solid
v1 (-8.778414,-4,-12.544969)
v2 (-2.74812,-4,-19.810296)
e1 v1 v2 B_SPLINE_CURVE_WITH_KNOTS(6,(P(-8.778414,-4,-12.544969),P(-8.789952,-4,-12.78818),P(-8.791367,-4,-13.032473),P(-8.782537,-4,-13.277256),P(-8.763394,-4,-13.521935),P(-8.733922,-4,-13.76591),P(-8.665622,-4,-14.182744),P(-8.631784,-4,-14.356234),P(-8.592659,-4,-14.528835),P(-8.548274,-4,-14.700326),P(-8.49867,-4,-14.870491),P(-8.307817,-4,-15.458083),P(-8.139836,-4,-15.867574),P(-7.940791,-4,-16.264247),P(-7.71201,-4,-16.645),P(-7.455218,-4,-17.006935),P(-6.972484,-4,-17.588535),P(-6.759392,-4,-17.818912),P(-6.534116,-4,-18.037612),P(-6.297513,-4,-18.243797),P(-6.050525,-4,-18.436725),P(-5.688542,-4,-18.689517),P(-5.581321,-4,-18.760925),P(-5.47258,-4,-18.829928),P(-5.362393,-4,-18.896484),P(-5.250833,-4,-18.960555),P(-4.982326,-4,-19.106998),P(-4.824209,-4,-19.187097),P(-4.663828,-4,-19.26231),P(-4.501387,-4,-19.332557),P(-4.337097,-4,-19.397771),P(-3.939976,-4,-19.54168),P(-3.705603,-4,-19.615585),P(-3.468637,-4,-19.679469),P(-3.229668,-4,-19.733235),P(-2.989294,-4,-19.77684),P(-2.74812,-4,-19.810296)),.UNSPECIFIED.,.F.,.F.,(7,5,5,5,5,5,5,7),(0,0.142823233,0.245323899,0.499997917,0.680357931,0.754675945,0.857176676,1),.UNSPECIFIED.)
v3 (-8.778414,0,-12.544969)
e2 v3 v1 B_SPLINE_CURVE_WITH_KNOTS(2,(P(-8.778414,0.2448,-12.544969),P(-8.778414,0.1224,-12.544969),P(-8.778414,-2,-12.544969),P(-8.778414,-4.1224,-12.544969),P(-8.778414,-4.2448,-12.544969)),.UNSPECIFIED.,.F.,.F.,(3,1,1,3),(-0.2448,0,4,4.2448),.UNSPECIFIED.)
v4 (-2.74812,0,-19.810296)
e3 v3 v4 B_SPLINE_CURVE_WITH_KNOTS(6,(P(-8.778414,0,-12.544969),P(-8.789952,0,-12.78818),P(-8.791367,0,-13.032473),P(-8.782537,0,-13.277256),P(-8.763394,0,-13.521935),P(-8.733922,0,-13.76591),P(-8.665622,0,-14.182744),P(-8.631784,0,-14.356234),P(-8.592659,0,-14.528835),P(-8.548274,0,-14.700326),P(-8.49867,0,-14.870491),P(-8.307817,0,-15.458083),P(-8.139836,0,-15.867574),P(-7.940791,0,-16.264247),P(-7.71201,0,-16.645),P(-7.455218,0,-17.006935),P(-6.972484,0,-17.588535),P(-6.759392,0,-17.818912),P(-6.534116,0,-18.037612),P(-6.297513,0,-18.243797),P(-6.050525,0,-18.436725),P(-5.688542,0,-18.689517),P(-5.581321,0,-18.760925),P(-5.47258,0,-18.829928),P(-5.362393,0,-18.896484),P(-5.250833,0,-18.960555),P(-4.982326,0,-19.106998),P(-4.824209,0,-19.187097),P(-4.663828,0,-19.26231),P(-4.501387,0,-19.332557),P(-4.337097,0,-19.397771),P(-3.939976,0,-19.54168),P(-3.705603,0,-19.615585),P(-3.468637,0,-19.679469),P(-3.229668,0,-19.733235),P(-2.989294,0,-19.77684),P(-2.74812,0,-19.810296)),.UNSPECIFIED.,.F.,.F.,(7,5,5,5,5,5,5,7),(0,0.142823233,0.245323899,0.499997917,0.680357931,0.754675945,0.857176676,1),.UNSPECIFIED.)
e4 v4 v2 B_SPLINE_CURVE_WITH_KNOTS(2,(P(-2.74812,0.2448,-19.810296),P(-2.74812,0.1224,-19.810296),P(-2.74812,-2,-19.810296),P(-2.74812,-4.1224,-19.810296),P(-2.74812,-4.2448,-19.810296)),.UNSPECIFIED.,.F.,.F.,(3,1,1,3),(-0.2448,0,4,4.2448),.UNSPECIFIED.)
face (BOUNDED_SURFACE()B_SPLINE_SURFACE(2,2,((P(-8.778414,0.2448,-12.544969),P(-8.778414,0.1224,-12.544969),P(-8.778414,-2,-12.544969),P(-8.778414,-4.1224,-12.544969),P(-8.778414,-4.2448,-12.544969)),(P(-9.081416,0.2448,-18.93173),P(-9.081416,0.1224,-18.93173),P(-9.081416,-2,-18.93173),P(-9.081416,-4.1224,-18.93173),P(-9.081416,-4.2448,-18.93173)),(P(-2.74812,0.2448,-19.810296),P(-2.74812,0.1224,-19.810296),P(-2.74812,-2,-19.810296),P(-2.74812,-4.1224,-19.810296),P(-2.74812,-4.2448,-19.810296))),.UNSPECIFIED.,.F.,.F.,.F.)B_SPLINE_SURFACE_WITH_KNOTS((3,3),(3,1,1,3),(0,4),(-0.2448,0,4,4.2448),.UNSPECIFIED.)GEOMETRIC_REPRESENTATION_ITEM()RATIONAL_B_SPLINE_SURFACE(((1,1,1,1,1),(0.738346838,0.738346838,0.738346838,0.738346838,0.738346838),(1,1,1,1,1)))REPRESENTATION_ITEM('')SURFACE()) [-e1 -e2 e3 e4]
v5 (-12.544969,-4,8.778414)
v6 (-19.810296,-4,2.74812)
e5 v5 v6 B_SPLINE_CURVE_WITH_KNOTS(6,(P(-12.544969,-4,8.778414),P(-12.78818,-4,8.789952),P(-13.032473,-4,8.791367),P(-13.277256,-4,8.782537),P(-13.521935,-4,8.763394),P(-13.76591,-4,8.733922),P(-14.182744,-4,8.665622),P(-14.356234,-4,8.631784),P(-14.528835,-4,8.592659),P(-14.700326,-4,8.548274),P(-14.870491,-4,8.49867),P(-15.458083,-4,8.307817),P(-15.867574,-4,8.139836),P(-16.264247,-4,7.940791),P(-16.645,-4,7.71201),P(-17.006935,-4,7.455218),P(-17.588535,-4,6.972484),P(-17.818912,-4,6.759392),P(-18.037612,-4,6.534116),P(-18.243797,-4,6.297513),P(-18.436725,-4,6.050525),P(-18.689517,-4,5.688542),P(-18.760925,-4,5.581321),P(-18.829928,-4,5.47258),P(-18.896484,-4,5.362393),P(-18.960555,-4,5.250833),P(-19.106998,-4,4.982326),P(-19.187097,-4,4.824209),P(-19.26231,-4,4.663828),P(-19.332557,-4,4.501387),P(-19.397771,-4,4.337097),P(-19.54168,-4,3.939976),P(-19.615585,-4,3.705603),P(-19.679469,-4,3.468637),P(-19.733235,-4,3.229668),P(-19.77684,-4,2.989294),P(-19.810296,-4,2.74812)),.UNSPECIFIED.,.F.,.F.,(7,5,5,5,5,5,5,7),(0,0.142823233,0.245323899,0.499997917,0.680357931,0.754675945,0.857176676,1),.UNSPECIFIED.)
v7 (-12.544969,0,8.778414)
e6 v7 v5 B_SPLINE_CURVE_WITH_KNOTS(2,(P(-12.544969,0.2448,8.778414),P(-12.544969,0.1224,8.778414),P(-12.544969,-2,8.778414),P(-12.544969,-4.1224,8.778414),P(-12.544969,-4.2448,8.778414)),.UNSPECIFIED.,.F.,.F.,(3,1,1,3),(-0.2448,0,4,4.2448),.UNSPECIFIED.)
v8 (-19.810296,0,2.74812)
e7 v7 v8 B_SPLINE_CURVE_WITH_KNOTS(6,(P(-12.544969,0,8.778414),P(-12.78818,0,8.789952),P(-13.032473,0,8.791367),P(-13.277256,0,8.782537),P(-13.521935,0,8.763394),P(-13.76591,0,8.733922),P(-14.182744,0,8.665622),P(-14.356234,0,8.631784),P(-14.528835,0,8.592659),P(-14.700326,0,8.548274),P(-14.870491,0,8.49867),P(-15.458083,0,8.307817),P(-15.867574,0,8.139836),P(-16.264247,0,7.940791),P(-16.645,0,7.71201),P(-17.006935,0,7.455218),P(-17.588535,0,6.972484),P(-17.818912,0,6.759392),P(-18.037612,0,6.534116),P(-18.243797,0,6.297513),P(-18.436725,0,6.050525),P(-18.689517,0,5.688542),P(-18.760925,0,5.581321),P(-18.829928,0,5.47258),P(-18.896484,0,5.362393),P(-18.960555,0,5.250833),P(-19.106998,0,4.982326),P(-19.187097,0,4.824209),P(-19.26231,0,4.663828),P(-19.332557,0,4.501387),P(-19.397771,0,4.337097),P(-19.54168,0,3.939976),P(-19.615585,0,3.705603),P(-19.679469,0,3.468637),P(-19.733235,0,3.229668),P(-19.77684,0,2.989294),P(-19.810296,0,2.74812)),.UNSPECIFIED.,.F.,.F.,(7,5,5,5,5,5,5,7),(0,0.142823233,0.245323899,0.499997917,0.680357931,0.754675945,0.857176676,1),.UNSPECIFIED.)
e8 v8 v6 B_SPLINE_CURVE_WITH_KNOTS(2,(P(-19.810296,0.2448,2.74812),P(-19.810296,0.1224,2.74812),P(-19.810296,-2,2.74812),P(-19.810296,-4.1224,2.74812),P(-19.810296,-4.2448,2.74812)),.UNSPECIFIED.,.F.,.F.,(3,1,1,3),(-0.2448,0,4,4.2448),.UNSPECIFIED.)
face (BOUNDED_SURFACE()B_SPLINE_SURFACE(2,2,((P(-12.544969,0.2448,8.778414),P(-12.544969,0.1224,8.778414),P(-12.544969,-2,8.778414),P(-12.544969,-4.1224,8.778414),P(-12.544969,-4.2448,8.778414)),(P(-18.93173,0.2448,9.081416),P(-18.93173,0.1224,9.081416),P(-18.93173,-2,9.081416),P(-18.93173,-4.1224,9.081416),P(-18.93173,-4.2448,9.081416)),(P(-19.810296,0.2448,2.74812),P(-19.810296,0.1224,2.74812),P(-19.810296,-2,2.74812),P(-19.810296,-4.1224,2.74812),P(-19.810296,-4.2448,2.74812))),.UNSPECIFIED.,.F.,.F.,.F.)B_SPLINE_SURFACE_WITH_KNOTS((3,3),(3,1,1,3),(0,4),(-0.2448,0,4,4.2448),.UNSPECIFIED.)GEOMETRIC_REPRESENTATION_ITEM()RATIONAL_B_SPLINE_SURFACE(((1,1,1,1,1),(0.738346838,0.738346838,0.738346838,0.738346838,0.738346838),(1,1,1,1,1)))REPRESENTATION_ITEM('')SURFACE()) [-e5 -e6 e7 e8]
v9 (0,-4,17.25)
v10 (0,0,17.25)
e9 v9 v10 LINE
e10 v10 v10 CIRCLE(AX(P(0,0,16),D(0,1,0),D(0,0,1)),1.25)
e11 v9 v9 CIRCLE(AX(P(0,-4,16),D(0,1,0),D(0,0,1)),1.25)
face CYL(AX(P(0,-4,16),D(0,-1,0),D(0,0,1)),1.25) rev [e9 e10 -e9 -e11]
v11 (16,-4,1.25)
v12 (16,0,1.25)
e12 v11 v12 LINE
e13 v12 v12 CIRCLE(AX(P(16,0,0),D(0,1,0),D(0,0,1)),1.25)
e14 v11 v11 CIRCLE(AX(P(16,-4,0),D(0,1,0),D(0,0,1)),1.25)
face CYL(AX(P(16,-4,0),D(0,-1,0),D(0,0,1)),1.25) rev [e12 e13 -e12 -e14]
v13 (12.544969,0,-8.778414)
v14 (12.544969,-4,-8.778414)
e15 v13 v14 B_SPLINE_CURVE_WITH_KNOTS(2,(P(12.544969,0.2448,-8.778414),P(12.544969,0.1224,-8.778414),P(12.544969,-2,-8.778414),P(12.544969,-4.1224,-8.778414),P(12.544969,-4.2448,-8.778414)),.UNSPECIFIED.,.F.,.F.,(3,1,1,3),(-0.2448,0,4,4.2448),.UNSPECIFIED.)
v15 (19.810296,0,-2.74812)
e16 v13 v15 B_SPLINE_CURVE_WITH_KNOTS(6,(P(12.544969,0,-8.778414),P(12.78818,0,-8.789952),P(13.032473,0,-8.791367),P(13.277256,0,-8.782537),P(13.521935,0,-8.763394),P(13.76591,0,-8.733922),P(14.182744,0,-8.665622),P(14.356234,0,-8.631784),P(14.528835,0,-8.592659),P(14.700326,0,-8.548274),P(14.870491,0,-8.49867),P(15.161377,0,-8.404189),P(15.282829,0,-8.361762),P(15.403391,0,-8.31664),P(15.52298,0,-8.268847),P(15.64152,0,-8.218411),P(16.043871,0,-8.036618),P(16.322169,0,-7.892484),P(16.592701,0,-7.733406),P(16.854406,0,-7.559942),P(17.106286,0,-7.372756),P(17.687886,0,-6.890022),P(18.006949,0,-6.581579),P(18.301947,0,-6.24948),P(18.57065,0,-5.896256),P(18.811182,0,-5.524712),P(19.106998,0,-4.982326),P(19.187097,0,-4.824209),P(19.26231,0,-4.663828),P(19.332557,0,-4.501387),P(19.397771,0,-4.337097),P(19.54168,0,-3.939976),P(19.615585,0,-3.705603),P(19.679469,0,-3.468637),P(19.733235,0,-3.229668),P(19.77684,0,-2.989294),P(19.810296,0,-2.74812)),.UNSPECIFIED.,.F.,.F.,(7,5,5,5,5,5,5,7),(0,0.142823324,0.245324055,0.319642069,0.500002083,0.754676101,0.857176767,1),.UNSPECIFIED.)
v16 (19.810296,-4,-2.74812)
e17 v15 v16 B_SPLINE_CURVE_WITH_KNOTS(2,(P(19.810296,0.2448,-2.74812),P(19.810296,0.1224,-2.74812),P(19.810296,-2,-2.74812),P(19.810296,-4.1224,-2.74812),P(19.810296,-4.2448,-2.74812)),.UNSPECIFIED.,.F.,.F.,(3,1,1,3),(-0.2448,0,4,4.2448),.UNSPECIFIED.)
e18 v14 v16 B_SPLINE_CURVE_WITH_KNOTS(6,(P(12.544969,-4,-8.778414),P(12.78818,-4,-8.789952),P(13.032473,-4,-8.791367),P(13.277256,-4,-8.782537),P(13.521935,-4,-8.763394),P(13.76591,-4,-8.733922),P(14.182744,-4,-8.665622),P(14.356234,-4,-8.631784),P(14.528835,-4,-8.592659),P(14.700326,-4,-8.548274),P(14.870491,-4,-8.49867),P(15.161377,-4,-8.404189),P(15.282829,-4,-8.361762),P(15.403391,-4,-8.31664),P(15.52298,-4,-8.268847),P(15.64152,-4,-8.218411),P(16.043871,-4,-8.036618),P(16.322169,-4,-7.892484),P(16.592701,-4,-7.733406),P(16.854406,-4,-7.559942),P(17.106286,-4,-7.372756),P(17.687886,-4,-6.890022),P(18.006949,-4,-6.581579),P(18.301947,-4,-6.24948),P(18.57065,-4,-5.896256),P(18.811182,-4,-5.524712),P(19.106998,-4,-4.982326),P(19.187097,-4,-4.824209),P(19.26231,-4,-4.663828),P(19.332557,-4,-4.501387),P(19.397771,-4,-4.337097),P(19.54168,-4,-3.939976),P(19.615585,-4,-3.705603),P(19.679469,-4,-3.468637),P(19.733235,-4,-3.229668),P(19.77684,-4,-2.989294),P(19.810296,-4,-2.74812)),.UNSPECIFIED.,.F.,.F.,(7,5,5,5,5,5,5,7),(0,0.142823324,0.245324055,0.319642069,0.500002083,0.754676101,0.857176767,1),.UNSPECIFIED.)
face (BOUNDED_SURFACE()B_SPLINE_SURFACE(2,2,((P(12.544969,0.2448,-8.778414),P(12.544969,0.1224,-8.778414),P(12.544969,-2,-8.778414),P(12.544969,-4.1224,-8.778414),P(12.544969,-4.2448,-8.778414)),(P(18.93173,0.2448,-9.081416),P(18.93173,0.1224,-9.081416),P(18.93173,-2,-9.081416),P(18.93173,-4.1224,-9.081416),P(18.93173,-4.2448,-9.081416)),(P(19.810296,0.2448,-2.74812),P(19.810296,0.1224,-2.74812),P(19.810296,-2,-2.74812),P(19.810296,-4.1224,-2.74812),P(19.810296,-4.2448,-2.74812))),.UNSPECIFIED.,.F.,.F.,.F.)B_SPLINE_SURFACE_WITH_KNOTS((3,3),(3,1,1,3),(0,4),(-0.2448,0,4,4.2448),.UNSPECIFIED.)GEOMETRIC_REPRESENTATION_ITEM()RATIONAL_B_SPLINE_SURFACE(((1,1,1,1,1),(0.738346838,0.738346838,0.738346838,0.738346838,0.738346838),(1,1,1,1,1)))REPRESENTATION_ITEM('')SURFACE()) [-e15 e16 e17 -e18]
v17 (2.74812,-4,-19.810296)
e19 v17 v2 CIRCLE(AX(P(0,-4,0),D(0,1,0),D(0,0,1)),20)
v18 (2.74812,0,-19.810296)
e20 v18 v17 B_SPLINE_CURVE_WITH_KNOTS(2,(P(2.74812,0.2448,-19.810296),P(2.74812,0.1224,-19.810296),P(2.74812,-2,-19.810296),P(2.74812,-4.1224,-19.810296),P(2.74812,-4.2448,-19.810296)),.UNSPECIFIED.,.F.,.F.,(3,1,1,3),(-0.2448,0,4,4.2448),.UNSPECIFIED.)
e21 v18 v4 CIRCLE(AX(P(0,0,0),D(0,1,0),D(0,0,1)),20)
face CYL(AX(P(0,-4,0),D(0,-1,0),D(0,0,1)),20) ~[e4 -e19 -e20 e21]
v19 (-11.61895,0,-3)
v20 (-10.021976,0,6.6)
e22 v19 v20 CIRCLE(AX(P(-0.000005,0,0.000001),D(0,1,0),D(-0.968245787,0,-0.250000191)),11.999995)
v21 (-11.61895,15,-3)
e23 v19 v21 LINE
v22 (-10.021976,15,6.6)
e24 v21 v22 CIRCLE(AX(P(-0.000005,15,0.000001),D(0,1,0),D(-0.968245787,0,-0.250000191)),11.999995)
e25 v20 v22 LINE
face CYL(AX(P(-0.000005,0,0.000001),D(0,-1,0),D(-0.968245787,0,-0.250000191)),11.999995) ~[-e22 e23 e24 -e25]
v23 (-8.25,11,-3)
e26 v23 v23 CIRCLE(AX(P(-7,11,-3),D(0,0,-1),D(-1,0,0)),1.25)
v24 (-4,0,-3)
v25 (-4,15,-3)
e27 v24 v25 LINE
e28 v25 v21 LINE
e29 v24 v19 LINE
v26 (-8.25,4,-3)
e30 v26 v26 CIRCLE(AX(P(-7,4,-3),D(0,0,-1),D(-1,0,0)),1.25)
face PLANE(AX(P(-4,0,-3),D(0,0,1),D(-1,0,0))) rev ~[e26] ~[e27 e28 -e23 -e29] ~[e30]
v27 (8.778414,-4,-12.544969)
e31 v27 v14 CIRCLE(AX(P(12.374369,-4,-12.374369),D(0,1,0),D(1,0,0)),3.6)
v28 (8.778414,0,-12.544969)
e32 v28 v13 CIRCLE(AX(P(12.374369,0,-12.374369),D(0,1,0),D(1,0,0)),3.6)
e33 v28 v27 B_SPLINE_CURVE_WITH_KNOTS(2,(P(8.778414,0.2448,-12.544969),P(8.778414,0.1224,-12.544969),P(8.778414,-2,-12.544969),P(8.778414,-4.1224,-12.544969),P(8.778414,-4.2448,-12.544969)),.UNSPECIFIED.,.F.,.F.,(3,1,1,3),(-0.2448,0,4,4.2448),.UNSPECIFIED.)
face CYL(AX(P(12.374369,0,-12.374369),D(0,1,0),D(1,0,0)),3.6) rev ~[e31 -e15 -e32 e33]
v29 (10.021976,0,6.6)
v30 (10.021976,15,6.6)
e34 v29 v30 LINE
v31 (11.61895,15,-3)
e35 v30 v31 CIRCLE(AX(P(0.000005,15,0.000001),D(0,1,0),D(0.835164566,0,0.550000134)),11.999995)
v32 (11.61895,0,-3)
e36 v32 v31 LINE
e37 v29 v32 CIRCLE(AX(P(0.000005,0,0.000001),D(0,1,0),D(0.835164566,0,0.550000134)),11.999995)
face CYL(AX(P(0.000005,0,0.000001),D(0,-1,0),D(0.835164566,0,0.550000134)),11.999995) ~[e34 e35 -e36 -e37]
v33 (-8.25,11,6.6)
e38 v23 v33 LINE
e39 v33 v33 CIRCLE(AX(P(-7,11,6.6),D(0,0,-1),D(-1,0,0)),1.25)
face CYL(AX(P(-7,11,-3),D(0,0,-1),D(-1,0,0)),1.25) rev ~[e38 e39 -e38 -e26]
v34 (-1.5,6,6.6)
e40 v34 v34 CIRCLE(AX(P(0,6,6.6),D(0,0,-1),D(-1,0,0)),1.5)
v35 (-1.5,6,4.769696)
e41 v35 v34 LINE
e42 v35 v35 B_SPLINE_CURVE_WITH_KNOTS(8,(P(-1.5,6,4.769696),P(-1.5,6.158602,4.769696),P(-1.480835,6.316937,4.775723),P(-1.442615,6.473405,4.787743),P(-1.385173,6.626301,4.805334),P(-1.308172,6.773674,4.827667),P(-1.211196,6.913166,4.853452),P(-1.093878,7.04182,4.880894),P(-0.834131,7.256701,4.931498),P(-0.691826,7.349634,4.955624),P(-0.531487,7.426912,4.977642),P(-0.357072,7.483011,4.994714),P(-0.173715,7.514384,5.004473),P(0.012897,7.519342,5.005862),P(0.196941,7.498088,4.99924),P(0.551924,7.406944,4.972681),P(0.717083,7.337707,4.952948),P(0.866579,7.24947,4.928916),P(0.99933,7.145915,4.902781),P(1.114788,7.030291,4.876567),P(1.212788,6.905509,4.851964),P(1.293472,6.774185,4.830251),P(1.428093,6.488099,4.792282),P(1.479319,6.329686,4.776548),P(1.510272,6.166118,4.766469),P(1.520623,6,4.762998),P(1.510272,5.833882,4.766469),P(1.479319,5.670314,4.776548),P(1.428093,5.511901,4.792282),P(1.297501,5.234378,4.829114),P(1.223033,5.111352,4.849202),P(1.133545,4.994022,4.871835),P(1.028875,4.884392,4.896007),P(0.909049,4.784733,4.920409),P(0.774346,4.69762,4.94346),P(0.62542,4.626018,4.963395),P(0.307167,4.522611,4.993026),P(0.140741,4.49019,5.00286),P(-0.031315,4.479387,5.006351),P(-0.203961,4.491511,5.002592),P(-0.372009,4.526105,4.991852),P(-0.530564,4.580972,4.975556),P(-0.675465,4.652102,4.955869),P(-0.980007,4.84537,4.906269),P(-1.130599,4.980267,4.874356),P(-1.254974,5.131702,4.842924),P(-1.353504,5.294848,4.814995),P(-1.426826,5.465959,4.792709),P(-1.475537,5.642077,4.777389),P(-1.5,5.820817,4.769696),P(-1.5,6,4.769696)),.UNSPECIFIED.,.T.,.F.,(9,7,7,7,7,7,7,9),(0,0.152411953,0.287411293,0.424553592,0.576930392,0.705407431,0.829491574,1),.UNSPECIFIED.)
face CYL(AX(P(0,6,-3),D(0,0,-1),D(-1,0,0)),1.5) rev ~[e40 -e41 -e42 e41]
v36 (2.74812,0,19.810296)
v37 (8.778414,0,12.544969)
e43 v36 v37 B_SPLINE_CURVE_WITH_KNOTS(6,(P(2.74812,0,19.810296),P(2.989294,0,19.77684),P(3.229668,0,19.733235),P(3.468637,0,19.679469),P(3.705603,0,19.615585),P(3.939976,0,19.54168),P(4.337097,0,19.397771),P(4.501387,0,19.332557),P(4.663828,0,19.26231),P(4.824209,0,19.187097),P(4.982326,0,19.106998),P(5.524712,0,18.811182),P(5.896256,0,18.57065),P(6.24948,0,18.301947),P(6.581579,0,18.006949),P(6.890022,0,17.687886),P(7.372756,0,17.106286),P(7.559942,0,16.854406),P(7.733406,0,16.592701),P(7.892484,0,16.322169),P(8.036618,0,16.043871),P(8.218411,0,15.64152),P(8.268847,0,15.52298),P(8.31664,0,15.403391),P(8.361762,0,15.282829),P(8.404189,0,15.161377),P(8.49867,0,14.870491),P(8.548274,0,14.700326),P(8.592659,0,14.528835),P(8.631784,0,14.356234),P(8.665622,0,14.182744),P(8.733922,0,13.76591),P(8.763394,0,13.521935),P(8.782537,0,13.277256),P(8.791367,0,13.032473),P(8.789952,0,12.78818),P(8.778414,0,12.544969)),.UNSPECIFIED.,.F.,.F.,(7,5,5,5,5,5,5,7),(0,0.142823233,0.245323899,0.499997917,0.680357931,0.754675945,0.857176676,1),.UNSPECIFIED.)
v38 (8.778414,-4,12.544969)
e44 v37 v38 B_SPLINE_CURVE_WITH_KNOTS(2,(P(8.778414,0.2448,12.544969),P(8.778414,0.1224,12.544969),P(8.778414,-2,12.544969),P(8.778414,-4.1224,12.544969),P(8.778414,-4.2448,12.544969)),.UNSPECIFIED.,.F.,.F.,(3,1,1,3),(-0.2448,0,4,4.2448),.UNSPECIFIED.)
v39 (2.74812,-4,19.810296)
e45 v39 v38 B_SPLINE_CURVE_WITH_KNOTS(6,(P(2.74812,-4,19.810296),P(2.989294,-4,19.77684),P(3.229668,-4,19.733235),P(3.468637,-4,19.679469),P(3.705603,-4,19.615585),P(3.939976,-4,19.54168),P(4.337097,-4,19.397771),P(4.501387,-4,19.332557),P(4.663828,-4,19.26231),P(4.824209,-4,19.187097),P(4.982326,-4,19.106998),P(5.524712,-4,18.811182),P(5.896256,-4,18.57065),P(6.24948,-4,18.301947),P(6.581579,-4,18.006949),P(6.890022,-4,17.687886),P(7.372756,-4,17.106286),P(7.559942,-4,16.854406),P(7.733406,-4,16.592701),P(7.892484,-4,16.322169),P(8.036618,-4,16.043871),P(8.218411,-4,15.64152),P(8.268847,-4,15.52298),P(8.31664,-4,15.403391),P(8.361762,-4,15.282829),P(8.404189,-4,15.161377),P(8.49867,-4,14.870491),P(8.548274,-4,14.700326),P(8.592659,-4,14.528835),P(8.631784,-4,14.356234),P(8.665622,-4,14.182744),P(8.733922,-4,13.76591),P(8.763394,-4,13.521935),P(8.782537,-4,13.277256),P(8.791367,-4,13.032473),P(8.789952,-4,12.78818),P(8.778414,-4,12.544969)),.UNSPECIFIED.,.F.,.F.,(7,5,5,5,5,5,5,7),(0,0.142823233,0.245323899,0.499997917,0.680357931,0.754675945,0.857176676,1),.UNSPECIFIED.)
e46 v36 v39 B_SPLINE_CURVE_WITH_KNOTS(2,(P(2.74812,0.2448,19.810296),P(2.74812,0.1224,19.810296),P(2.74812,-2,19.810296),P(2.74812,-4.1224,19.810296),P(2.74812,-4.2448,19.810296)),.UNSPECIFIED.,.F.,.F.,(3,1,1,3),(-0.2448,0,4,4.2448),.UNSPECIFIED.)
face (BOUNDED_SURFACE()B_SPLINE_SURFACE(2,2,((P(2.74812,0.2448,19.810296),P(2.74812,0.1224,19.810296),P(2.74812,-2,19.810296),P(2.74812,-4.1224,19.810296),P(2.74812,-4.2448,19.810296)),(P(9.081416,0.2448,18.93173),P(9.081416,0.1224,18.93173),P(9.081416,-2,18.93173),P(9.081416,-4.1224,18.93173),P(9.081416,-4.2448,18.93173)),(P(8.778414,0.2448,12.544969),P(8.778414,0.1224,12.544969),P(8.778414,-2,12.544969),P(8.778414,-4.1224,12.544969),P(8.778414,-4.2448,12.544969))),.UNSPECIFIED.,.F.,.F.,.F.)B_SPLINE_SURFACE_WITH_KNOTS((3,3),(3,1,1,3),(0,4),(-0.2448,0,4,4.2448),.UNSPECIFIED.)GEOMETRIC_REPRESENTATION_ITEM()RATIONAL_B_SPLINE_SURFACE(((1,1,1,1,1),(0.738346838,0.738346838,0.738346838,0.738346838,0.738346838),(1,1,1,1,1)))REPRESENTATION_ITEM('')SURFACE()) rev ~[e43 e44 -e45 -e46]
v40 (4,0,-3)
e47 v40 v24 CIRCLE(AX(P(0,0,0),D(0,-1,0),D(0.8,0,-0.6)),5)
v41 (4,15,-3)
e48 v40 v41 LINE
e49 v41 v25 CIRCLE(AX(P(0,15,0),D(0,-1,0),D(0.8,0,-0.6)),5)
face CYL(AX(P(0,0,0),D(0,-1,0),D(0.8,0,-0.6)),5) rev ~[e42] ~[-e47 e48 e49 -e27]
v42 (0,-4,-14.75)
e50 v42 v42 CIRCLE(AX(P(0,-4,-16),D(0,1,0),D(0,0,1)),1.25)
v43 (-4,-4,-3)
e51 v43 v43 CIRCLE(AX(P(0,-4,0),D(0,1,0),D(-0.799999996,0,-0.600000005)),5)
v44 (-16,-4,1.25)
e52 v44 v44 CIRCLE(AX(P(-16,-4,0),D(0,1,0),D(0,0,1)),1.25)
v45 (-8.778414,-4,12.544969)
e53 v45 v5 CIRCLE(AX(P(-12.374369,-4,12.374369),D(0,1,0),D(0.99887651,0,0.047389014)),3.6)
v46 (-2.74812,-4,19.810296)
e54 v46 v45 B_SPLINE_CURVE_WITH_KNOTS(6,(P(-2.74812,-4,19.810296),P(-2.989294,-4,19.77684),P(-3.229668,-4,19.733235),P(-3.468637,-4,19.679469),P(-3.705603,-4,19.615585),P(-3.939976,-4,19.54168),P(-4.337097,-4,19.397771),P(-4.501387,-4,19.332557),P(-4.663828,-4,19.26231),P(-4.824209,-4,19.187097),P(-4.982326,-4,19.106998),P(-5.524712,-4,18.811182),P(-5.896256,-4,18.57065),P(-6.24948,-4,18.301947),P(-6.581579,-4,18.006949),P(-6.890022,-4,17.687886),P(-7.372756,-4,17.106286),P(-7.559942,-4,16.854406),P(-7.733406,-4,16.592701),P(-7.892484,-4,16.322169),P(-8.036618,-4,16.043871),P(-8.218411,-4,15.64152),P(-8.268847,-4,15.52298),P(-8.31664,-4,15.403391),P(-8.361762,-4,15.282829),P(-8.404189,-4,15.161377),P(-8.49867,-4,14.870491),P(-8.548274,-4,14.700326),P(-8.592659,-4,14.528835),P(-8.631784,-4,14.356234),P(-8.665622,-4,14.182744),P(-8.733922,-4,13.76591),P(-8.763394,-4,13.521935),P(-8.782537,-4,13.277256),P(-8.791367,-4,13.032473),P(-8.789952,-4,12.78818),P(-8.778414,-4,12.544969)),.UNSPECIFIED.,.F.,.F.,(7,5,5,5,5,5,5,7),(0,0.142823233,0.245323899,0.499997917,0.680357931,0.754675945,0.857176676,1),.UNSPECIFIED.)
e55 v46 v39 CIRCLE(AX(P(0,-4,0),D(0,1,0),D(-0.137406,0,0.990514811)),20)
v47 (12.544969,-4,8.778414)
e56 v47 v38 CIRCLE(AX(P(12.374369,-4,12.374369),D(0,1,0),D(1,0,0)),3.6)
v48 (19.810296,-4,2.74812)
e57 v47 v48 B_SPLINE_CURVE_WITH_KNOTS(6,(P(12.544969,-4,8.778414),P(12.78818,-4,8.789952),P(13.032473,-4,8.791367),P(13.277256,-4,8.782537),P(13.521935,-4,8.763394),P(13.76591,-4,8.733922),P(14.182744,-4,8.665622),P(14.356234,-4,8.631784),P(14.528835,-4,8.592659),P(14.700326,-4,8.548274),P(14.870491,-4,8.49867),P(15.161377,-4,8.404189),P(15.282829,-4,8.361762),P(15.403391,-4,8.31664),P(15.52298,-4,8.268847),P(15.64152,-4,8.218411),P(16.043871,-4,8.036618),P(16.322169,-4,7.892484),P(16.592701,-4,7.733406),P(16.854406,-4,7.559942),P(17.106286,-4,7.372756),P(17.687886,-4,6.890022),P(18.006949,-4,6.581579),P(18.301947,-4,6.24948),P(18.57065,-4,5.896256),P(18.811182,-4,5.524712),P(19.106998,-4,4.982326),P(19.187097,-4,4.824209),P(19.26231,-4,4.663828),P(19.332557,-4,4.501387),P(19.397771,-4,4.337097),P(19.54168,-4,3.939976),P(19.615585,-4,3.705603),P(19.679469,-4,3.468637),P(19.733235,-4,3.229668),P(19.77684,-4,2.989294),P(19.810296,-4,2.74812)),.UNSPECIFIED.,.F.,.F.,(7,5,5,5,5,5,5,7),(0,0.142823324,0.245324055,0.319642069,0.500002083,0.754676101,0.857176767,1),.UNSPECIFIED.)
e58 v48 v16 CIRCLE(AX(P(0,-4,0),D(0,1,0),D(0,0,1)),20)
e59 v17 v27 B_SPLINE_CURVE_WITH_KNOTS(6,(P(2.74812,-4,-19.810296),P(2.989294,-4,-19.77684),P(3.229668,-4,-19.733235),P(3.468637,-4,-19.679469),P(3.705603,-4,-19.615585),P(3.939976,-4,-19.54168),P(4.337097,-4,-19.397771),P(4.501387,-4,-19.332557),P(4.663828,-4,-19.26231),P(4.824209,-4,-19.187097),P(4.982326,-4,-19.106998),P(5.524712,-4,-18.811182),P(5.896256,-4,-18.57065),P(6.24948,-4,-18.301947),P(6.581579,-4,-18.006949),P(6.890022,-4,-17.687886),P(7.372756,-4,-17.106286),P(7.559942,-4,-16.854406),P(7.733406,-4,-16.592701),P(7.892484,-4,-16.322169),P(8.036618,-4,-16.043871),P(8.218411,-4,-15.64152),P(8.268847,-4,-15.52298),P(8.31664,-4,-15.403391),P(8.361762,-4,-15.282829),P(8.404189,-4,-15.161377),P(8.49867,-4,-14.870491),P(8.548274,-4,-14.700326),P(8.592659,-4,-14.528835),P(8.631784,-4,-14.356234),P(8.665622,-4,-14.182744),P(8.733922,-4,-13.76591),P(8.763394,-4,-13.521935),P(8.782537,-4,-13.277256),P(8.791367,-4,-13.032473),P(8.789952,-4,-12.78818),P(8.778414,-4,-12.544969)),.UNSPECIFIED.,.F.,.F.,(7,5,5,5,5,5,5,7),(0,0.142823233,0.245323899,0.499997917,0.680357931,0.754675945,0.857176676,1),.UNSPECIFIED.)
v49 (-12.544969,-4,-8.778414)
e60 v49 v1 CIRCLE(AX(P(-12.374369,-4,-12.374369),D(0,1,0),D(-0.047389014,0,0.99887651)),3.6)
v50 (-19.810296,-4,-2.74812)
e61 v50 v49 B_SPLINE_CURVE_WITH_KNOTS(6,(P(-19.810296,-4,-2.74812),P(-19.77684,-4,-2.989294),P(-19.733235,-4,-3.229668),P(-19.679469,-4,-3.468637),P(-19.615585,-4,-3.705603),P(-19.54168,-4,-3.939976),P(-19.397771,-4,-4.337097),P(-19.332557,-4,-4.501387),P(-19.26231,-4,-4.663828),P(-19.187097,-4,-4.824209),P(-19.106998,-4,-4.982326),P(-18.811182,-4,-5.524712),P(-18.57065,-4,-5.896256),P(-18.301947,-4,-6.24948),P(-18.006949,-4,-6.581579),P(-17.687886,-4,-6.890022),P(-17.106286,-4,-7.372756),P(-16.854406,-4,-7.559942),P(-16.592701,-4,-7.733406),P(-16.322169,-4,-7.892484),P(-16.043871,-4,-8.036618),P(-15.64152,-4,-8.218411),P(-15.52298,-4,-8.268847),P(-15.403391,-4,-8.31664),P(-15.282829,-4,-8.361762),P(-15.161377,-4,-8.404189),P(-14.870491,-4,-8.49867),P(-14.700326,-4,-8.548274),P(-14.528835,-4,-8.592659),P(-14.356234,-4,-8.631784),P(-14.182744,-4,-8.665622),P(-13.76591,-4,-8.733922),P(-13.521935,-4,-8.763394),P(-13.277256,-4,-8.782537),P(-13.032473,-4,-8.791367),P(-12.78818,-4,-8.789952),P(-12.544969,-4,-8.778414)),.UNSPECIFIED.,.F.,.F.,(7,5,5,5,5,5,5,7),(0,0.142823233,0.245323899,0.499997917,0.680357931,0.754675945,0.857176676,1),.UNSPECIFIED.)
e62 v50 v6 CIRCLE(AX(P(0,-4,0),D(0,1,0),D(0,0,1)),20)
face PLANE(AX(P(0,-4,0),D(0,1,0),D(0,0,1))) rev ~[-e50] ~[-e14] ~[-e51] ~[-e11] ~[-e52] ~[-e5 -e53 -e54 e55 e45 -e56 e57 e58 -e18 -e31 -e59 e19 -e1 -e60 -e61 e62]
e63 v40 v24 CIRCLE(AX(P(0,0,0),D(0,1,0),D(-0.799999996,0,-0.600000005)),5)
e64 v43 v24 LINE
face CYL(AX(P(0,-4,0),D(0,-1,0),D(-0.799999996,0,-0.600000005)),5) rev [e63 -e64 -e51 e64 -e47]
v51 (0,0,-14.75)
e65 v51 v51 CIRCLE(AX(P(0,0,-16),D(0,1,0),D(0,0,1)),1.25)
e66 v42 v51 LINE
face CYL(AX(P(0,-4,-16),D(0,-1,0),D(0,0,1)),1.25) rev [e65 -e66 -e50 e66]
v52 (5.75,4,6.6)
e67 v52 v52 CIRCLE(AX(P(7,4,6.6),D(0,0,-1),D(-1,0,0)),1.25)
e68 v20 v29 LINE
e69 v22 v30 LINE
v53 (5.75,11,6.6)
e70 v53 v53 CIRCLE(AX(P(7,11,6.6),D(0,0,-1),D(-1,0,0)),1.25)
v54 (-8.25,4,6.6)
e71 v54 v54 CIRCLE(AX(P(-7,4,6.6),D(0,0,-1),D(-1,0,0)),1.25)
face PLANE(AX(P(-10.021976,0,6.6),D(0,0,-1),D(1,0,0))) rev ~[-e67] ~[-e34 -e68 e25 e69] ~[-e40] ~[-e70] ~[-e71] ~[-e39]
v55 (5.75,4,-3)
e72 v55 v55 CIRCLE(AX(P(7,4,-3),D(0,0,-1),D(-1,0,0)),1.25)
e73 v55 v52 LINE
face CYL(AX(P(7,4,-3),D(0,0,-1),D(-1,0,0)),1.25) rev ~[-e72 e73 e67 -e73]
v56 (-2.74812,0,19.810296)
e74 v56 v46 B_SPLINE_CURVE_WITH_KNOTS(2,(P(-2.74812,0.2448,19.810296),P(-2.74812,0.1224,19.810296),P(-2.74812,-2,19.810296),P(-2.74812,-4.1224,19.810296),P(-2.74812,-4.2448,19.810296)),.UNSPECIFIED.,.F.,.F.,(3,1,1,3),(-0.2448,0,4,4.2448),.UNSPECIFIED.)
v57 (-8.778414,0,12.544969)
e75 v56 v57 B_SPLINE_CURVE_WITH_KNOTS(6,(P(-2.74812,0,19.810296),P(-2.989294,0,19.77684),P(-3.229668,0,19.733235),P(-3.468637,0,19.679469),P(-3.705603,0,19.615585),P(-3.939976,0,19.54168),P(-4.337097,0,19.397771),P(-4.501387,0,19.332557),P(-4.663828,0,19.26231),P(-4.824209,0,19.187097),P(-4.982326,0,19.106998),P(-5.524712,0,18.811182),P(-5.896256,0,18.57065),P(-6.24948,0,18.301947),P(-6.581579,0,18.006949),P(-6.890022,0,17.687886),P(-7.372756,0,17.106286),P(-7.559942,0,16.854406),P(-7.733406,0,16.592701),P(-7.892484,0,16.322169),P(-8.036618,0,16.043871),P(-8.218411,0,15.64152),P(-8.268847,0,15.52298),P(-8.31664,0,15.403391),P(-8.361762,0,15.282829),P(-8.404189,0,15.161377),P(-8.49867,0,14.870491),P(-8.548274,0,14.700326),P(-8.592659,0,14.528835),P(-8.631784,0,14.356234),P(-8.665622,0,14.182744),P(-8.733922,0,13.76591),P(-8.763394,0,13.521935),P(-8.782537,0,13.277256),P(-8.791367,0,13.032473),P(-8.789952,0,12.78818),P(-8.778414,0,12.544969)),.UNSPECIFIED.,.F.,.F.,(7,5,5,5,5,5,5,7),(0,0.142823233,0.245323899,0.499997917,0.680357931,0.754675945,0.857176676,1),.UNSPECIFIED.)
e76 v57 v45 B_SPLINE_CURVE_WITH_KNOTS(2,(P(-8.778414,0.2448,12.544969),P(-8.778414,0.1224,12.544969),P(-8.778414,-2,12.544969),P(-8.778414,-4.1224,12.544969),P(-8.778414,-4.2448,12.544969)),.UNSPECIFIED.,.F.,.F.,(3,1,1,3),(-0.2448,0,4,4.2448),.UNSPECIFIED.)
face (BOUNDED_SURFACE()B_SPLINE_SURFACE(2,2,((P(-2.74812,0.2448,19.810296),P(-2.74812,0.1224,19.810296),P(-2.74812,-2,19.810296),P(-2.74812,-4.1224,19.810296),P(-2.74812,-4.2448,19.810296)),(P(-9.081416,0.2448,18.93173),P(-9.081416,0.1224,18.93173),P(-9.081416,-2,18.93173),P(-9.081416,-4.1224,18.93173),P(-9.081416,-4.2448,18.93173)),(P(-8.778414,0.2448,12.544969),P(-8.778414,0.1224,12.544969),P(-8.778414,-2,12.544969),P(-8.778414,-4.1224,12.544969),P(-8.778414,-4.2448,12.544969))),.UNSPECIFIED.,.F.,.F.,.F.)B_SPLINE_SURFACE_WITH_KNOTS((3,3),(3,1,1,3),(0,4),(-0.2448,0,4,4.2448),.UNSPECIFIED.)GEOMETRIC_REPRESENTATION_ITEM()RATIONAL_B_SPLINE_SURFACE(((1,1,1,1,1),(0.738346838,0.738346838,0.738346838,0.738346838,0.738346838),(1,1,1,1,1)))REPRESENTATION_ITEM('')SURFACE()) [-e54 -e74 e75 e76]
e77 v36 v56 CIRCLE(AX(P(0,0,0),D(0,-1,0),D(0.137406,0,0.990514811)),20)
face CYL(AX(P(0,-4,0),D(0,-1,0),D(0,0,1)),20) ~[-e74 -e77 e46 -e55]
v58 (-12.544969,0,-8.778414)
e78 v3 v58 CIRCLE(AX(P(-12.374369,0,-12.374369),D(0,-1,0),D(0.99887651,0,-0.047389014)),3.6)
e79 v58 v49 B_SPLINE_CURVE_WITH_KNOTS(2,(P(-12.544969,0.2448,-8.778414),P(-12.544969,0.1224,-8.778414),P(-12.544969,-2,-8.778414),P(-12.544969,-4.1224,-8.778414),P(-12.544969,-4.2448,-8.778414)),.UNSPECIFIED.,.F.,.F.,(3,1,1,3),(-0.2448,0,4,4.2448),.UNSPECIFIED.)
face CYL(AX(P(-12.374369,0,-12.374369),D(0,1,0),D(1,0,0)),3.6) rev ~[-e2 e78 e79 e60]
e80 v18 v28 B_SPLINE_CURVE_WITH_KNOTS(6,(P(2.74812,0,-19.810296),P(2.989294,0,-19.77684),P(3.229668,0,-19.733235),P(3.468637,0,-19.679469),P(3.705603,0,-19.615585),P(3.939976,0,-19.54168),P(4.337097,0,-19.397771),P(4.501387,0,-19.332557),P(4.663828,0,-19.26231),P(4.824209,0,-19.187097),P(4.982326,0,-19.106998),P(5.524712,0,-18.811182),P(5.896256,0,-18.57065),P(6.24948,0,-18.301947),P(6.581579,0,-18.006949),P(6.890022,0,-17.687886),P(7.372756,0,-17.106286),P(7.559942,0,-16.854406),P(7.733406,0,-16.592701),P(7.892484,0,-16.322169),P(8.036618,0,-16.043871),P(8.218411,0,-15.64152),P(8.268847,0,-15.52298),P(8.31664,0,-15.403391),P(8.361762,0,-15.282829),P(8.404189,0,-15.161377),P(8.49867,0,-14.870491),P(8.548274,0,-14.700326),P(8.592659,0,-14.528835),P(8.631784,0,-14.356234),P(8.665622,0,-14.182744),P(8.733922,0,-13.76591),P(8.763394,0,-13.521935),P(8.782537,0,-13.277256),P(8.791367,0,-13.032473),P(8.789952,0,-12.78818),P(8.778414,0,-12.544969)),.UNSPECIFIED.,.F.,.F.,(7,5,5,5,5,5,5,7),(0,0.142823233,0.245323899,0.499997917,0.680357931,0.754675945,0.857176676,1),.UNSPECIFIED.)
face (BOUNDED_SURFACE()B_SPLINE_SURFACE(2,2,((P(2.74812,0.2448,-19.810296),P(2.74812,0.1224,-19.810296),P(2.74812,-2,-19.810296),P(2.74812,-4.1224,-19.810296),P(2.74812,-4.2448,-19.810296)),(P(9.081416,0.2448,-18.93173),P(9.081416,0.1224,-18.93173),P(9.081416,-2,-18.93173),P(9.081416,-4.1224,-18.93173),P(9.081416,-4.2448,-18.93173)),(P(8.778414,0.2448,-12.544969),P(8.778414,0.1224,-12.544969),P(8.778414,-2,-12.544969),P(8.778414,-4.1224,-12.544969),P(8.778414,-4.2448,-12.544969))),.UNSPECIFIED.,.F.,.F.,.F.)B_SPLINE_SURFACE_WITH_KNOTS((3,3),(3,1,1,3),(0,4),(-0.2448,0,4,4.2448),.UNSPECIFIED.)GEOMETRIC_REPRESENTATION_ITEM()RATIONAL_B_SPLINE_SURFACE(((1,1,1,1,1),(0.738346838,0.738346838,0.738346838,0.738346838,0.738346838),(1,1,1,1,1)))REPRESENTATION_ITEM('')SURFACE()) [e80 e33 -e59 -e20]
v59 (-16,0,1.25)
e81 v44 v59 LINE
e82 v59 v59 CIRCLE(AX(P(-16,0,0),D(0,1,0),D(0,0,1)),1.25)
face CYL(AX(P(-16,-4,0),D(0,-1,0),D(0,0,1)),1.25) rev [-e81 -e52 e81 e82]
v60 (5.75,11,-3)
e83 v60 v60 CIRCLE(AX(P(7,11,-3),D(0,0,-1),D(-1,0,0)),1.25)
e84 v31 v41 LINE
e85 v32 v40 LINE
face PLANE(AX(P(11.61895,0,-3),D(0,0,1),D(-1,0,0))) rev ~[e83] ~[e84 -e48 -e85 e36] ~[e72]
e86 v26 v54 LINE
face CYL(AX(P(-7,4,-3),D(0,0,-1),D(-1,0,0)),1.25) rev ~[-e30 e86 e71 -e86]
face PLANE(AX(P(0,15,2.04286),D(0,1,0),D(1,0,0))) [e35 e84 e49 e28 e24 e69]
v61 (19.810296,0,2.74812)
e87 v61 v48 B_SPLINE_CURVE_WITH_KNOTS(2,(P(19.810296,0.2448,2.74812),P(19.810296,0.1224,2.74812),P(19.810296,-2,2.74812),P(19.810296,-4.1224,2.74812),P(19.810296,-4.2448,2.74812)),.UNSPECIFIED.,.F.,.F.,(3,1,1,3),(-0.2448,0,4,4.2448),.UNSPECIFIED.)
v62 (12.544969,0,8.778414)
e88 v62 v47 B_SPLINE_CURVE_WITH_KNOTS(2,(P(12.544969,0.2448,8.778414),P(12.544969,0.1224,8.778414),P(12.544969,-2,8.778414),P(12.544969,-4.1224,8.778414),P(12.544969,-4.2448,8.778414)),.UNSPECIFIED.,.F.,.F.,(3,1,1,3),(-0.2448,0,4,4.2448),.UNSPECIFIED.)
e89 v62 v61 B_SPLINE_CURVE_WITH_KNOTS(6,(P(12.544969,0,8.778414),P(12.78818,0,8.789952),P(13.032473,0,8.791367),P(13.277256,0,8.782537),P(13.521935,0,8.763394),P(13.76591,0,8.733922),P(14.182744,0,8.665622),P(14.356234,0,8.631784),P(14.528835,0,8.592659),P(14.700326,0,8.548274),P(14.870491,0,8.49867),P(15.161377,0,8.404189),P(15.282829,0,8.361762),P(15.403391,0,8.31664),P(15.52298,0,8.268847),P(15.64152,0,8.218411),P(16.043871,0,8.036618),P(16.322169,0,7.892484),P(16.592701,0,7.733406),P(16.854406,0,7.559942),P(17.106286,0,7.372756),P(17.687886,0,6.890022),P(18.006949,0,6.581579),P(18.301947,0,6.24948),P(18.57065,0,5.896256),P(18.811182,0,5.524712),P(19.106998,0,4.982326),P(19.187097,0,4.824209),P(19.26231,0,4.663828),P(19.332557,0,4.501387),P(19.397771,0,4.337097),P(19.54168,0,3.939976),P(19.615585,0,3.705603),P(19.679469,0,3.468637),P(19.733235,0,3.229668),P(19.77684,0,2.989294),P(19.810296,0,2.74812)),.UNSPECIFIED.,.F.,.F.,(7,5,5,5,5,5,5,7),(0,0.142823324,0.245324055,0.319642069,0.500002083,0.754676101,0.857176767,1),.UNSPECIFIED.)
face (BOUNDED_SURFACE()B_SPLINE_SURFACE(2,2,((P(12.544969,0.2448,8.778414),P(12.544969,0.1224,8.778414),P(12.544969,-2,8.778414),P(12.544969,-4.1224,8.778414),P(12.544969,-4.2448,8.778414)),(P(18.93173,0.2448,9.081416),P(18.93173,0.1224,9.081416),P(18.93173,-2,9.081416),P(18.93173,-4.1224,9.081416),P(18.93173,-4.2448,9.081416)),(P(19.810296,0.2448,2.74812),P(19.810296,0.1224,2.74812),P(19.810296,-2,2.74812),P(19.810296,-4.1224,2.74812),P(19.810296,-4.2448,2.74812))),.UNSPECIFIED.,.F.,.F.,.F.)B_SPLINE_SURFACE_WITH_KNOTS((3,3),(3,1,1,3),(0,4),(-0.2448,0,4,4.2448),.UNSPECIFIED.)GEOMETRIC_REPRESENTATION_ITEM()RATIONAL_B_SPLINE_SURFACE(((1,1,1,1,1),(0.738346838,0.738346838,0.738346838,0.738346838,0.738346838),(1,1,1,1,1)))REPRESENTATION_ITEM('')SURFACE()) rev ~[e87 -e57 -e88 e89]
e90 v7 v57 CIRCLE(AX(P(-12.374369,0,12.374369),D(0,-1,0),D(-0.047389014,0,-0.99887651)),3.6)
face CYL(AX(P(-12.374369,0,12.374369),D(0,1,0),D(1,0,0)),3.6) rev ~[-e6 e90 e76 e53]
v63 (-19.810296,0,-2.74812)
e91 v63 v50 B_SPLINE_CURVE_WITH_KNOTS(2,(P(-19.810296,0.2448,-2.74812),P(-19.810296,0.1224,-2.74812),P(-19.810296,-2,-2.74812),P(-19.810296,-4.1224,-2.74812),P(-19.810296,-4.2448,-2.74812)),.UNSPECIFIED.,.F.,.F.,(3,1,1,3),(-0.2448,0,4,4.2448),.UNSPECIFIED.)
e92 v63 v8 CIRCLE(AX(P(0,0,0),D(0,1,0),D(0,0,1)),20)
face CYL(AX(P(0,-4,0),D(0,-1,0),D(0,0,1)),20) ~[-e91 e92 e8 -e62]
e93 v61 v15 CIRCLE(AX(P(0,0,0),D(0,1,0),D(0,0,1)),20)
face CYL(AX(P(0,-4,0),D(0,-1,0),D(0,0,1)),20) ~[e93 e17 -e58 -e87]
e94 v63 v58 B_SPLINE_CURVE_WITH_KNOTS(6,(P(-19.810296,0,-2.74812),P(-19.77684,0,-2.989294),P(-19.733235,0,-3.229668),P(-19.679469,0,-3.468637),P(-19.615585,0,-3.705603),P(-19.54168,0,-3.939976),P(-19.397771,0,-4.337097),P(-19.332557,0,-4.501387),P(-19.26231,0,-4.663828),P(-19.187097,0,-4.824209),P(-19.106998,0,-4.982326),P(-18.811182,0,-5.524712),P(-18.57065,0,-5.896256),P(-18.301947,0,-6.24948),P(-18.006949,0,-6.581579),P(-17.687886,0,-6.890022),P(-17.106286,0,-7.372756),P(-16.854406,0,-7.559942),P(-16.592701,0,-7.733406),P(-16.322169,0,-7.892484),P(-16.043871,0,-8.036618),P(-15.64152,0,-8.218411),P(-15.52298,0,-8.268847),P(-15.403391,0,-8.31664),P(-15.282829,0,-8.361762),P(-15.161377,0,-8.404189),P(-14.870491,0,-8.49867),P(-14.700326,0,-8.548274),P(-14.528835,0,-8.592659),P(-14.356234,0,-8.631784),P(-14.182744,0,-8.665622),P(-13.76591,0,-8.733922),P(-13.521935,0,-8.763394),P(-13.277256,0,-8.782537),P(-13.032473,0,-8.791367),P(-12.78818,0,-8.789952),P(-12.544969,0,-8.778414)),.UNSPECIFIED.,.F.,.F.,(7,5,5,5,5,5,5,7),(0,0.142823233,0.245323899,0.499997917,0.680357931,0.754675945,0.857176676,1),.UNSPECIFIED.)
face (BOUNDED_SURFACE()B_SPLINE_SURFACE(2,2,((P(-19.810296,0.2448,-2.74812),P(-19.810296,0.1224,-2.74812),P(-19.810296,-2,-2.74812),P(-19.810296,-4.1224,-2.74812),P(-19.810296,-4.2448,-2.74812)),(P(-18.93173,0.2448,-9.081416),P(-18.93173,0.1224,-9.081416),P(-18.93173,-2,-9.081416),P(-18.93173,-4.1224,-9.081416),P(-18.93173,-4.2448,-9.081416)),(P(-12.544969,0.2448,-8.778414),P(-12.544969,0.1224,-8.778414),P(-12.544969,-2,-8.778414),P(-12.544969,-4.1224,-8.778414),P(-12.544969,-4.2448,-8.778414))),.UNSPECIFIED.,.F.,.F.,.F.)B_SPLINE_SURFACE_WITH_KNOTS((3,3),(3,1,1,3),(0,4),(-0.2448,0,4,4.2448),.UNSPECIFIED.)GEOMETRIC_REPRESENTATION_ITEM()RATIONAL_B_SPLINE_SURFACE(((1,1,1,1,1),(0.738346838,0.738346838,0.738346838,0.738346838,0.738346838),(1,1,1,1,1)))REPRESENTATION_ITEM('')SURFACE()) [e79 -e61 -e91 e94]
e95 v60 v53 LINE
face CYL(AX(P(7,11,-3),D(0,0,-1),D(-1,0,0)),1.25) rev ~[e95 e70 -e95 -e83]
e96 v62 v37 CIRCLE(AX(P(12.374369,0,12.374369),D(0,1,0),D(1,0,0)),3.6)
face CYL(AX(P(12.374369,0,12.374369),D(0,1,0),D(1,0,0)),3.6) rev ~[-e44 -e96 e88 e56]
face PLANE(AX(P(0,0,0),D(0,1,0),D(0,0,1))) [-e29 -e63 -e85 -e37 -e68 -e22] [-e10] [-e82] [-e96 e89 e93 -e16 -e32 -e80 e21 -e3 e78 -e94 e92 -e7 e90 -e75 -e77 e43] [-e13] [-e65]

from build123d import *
from build123d.topology import SkipClean

# Parameters (mm, degrees)
EXTRUDE_1_DEPTH     = 15
EXTRUDE_START       = -4
SKETCH_3_R          = 20
SKETCH_3_R_2        = 1.25
SKETCH_3_R_3        = 5
EXTRUDE_2_DEPTH     = 4
SKETCH_4_R          = 3.6
CUT_EXTRUDE_1_DEPTH = 33.015621
FILLET_1_R          = 7
SKETCH_5_R          = 1.25
SKETCH_5_R_2        = 1.5
CUT_EXTRUDE_2_DEPTH = 34.970576


with BuildPart() as part:
    # 草图2 → 凸台-拉伸1 (new body)
    with BuildSketch(Plane(origin=(0, 0, 0), x_dir=(1, 0, 0), z_dir=(0, 1, 0))):
        with BuildLine():
            Line((-10.021976, -6.6), (10.021976, -6.6))
            ThreePointArc((10.021976, -6.6), (11.837332, -1.969158), (11.61895, 3))
            Line((11.61895, 3), (4, 3))
            ThreePointArc((4, 3), (0, -5), (-4, 3))
            Line((-4, 3), (-11.61895, 3))
            ThreePointArc((-11.61895, 3), (-11.837332, -1.969158), (-10.021976, -6.6))
        make_face()
    extrude(amount=EXTRUDE_1_DEPTH)

    # 草图3 → 凸台-拉伸2 (add)
    with SkipClean():  # the faces are left unmerged after this step: merging them gives an invalid solid
        with BuildSketch(Plane(origin=(0, 0, 0), x_dir=(1, 0, 0), z_dir=(0, 1, 0)).offset(EXTRUDE_START)):
            with Locations(Location((0, 0, 0), (0, 0, 270))):
                Circle(SKETCH_3_R)
            with Locations(Location((0, -16, 0), (0, 0, 270))):
                Circle(SKETCH_3_R_2, mode=Mode.SUBTRACT)
            with Locations(Location((16, 0, 0), (0, 0, 270))):
                Circle(SKETCH_3_R_2, mode=Mode.SUBTRACT)
            with Locations(Location((-16, 0, 0), (0, 0, 270))):
                Circle(SKETCH_3_R_2, mode=Mode.SUBTRACT)
            with Locations(Location((0, 16, 0), (0, 0, 270))):
                Circle(SKETCH_3_R_2, mode=Mode.SUBTRACT)
            with Locations(Location((0, 0, 0), (0, 0, 143.130102))):
                Circle(SKETCH_3_R_3, mode=Mode.SUBTRACT)
        extrude(amount=EXTRUDE_2_DEPTH)

    # 草图4 → 切除-拉伸1 (cut, through all)
    with SkipClean():  # the faces are left unmerged after this step: merging them gives an invalid solid
        with BuildSketch(Plane(origin=(0, 0, 0), x_dir=(1, 0, 0), z_dir=(0, 1, 0))):
            with Locations((12.374369, -12.374369)):
                Circle(SKETCH_4_R)
            with Locations((12.374369, 12.374369)):
                Circle(SKETCH_4_R)
            with Locations((-12.374369, 12.374369)):
                Circle(SKETCH_4_R)
            with Locations((-12.374369, -12.374369)):
                Circle(SKETCH_4_R)
        extrude(amount=-CUT_EXTRUDE_1_DEPTH, mode=Mode.SUBTRACT)

    # 圆角1
    fillet_1_edges = [part.edges().sort_by_distance(p)[0] for p in [
        (-12.053138, -2, 15.960008),
        (-15.960008, -2, 12.053138),
        (-15.960008, -2, -12.053138),
        (-12.053138, -2, -15.960008),
        (12.053138, -2, -15.960008),
        (15.960008, -2, -12.053138),
        (15.960008, -2, 12.053138),
        (12.053138, -2, 15.960008),
    ]]
    fillet(fillet_1_edges, radius=FILLET_1_R)

    # 草图5 → 切除-拉伸2 (cut, through all)
    with SkipClean():  # the faces are left unmerged after this step: merging them gives an invalid solid
        with BuildSketch(Plane(origin=(0, 0, -3), x_dir=(-1, 0, 0), z_dir=(0, 0, -1))):
            with Locations((-7, 11)):
                Circle(SKETCH_5_R)
            with Locations((-7, 4)):
                Circle(SKETCH_5_R)
            with Locations((7, 11)):
                Circle(SKETCH_5_R)
            with Locations((7, 4)):
                Circle(SKETCH_5_R)
            with Locations((0, 6)):
                Circle(SKETCH_5_R_2)
        extrude(amount=-CUT_EXTRUDE_2_DEPTH, mode=Mode.SUBTRACT)


solid = part.part
